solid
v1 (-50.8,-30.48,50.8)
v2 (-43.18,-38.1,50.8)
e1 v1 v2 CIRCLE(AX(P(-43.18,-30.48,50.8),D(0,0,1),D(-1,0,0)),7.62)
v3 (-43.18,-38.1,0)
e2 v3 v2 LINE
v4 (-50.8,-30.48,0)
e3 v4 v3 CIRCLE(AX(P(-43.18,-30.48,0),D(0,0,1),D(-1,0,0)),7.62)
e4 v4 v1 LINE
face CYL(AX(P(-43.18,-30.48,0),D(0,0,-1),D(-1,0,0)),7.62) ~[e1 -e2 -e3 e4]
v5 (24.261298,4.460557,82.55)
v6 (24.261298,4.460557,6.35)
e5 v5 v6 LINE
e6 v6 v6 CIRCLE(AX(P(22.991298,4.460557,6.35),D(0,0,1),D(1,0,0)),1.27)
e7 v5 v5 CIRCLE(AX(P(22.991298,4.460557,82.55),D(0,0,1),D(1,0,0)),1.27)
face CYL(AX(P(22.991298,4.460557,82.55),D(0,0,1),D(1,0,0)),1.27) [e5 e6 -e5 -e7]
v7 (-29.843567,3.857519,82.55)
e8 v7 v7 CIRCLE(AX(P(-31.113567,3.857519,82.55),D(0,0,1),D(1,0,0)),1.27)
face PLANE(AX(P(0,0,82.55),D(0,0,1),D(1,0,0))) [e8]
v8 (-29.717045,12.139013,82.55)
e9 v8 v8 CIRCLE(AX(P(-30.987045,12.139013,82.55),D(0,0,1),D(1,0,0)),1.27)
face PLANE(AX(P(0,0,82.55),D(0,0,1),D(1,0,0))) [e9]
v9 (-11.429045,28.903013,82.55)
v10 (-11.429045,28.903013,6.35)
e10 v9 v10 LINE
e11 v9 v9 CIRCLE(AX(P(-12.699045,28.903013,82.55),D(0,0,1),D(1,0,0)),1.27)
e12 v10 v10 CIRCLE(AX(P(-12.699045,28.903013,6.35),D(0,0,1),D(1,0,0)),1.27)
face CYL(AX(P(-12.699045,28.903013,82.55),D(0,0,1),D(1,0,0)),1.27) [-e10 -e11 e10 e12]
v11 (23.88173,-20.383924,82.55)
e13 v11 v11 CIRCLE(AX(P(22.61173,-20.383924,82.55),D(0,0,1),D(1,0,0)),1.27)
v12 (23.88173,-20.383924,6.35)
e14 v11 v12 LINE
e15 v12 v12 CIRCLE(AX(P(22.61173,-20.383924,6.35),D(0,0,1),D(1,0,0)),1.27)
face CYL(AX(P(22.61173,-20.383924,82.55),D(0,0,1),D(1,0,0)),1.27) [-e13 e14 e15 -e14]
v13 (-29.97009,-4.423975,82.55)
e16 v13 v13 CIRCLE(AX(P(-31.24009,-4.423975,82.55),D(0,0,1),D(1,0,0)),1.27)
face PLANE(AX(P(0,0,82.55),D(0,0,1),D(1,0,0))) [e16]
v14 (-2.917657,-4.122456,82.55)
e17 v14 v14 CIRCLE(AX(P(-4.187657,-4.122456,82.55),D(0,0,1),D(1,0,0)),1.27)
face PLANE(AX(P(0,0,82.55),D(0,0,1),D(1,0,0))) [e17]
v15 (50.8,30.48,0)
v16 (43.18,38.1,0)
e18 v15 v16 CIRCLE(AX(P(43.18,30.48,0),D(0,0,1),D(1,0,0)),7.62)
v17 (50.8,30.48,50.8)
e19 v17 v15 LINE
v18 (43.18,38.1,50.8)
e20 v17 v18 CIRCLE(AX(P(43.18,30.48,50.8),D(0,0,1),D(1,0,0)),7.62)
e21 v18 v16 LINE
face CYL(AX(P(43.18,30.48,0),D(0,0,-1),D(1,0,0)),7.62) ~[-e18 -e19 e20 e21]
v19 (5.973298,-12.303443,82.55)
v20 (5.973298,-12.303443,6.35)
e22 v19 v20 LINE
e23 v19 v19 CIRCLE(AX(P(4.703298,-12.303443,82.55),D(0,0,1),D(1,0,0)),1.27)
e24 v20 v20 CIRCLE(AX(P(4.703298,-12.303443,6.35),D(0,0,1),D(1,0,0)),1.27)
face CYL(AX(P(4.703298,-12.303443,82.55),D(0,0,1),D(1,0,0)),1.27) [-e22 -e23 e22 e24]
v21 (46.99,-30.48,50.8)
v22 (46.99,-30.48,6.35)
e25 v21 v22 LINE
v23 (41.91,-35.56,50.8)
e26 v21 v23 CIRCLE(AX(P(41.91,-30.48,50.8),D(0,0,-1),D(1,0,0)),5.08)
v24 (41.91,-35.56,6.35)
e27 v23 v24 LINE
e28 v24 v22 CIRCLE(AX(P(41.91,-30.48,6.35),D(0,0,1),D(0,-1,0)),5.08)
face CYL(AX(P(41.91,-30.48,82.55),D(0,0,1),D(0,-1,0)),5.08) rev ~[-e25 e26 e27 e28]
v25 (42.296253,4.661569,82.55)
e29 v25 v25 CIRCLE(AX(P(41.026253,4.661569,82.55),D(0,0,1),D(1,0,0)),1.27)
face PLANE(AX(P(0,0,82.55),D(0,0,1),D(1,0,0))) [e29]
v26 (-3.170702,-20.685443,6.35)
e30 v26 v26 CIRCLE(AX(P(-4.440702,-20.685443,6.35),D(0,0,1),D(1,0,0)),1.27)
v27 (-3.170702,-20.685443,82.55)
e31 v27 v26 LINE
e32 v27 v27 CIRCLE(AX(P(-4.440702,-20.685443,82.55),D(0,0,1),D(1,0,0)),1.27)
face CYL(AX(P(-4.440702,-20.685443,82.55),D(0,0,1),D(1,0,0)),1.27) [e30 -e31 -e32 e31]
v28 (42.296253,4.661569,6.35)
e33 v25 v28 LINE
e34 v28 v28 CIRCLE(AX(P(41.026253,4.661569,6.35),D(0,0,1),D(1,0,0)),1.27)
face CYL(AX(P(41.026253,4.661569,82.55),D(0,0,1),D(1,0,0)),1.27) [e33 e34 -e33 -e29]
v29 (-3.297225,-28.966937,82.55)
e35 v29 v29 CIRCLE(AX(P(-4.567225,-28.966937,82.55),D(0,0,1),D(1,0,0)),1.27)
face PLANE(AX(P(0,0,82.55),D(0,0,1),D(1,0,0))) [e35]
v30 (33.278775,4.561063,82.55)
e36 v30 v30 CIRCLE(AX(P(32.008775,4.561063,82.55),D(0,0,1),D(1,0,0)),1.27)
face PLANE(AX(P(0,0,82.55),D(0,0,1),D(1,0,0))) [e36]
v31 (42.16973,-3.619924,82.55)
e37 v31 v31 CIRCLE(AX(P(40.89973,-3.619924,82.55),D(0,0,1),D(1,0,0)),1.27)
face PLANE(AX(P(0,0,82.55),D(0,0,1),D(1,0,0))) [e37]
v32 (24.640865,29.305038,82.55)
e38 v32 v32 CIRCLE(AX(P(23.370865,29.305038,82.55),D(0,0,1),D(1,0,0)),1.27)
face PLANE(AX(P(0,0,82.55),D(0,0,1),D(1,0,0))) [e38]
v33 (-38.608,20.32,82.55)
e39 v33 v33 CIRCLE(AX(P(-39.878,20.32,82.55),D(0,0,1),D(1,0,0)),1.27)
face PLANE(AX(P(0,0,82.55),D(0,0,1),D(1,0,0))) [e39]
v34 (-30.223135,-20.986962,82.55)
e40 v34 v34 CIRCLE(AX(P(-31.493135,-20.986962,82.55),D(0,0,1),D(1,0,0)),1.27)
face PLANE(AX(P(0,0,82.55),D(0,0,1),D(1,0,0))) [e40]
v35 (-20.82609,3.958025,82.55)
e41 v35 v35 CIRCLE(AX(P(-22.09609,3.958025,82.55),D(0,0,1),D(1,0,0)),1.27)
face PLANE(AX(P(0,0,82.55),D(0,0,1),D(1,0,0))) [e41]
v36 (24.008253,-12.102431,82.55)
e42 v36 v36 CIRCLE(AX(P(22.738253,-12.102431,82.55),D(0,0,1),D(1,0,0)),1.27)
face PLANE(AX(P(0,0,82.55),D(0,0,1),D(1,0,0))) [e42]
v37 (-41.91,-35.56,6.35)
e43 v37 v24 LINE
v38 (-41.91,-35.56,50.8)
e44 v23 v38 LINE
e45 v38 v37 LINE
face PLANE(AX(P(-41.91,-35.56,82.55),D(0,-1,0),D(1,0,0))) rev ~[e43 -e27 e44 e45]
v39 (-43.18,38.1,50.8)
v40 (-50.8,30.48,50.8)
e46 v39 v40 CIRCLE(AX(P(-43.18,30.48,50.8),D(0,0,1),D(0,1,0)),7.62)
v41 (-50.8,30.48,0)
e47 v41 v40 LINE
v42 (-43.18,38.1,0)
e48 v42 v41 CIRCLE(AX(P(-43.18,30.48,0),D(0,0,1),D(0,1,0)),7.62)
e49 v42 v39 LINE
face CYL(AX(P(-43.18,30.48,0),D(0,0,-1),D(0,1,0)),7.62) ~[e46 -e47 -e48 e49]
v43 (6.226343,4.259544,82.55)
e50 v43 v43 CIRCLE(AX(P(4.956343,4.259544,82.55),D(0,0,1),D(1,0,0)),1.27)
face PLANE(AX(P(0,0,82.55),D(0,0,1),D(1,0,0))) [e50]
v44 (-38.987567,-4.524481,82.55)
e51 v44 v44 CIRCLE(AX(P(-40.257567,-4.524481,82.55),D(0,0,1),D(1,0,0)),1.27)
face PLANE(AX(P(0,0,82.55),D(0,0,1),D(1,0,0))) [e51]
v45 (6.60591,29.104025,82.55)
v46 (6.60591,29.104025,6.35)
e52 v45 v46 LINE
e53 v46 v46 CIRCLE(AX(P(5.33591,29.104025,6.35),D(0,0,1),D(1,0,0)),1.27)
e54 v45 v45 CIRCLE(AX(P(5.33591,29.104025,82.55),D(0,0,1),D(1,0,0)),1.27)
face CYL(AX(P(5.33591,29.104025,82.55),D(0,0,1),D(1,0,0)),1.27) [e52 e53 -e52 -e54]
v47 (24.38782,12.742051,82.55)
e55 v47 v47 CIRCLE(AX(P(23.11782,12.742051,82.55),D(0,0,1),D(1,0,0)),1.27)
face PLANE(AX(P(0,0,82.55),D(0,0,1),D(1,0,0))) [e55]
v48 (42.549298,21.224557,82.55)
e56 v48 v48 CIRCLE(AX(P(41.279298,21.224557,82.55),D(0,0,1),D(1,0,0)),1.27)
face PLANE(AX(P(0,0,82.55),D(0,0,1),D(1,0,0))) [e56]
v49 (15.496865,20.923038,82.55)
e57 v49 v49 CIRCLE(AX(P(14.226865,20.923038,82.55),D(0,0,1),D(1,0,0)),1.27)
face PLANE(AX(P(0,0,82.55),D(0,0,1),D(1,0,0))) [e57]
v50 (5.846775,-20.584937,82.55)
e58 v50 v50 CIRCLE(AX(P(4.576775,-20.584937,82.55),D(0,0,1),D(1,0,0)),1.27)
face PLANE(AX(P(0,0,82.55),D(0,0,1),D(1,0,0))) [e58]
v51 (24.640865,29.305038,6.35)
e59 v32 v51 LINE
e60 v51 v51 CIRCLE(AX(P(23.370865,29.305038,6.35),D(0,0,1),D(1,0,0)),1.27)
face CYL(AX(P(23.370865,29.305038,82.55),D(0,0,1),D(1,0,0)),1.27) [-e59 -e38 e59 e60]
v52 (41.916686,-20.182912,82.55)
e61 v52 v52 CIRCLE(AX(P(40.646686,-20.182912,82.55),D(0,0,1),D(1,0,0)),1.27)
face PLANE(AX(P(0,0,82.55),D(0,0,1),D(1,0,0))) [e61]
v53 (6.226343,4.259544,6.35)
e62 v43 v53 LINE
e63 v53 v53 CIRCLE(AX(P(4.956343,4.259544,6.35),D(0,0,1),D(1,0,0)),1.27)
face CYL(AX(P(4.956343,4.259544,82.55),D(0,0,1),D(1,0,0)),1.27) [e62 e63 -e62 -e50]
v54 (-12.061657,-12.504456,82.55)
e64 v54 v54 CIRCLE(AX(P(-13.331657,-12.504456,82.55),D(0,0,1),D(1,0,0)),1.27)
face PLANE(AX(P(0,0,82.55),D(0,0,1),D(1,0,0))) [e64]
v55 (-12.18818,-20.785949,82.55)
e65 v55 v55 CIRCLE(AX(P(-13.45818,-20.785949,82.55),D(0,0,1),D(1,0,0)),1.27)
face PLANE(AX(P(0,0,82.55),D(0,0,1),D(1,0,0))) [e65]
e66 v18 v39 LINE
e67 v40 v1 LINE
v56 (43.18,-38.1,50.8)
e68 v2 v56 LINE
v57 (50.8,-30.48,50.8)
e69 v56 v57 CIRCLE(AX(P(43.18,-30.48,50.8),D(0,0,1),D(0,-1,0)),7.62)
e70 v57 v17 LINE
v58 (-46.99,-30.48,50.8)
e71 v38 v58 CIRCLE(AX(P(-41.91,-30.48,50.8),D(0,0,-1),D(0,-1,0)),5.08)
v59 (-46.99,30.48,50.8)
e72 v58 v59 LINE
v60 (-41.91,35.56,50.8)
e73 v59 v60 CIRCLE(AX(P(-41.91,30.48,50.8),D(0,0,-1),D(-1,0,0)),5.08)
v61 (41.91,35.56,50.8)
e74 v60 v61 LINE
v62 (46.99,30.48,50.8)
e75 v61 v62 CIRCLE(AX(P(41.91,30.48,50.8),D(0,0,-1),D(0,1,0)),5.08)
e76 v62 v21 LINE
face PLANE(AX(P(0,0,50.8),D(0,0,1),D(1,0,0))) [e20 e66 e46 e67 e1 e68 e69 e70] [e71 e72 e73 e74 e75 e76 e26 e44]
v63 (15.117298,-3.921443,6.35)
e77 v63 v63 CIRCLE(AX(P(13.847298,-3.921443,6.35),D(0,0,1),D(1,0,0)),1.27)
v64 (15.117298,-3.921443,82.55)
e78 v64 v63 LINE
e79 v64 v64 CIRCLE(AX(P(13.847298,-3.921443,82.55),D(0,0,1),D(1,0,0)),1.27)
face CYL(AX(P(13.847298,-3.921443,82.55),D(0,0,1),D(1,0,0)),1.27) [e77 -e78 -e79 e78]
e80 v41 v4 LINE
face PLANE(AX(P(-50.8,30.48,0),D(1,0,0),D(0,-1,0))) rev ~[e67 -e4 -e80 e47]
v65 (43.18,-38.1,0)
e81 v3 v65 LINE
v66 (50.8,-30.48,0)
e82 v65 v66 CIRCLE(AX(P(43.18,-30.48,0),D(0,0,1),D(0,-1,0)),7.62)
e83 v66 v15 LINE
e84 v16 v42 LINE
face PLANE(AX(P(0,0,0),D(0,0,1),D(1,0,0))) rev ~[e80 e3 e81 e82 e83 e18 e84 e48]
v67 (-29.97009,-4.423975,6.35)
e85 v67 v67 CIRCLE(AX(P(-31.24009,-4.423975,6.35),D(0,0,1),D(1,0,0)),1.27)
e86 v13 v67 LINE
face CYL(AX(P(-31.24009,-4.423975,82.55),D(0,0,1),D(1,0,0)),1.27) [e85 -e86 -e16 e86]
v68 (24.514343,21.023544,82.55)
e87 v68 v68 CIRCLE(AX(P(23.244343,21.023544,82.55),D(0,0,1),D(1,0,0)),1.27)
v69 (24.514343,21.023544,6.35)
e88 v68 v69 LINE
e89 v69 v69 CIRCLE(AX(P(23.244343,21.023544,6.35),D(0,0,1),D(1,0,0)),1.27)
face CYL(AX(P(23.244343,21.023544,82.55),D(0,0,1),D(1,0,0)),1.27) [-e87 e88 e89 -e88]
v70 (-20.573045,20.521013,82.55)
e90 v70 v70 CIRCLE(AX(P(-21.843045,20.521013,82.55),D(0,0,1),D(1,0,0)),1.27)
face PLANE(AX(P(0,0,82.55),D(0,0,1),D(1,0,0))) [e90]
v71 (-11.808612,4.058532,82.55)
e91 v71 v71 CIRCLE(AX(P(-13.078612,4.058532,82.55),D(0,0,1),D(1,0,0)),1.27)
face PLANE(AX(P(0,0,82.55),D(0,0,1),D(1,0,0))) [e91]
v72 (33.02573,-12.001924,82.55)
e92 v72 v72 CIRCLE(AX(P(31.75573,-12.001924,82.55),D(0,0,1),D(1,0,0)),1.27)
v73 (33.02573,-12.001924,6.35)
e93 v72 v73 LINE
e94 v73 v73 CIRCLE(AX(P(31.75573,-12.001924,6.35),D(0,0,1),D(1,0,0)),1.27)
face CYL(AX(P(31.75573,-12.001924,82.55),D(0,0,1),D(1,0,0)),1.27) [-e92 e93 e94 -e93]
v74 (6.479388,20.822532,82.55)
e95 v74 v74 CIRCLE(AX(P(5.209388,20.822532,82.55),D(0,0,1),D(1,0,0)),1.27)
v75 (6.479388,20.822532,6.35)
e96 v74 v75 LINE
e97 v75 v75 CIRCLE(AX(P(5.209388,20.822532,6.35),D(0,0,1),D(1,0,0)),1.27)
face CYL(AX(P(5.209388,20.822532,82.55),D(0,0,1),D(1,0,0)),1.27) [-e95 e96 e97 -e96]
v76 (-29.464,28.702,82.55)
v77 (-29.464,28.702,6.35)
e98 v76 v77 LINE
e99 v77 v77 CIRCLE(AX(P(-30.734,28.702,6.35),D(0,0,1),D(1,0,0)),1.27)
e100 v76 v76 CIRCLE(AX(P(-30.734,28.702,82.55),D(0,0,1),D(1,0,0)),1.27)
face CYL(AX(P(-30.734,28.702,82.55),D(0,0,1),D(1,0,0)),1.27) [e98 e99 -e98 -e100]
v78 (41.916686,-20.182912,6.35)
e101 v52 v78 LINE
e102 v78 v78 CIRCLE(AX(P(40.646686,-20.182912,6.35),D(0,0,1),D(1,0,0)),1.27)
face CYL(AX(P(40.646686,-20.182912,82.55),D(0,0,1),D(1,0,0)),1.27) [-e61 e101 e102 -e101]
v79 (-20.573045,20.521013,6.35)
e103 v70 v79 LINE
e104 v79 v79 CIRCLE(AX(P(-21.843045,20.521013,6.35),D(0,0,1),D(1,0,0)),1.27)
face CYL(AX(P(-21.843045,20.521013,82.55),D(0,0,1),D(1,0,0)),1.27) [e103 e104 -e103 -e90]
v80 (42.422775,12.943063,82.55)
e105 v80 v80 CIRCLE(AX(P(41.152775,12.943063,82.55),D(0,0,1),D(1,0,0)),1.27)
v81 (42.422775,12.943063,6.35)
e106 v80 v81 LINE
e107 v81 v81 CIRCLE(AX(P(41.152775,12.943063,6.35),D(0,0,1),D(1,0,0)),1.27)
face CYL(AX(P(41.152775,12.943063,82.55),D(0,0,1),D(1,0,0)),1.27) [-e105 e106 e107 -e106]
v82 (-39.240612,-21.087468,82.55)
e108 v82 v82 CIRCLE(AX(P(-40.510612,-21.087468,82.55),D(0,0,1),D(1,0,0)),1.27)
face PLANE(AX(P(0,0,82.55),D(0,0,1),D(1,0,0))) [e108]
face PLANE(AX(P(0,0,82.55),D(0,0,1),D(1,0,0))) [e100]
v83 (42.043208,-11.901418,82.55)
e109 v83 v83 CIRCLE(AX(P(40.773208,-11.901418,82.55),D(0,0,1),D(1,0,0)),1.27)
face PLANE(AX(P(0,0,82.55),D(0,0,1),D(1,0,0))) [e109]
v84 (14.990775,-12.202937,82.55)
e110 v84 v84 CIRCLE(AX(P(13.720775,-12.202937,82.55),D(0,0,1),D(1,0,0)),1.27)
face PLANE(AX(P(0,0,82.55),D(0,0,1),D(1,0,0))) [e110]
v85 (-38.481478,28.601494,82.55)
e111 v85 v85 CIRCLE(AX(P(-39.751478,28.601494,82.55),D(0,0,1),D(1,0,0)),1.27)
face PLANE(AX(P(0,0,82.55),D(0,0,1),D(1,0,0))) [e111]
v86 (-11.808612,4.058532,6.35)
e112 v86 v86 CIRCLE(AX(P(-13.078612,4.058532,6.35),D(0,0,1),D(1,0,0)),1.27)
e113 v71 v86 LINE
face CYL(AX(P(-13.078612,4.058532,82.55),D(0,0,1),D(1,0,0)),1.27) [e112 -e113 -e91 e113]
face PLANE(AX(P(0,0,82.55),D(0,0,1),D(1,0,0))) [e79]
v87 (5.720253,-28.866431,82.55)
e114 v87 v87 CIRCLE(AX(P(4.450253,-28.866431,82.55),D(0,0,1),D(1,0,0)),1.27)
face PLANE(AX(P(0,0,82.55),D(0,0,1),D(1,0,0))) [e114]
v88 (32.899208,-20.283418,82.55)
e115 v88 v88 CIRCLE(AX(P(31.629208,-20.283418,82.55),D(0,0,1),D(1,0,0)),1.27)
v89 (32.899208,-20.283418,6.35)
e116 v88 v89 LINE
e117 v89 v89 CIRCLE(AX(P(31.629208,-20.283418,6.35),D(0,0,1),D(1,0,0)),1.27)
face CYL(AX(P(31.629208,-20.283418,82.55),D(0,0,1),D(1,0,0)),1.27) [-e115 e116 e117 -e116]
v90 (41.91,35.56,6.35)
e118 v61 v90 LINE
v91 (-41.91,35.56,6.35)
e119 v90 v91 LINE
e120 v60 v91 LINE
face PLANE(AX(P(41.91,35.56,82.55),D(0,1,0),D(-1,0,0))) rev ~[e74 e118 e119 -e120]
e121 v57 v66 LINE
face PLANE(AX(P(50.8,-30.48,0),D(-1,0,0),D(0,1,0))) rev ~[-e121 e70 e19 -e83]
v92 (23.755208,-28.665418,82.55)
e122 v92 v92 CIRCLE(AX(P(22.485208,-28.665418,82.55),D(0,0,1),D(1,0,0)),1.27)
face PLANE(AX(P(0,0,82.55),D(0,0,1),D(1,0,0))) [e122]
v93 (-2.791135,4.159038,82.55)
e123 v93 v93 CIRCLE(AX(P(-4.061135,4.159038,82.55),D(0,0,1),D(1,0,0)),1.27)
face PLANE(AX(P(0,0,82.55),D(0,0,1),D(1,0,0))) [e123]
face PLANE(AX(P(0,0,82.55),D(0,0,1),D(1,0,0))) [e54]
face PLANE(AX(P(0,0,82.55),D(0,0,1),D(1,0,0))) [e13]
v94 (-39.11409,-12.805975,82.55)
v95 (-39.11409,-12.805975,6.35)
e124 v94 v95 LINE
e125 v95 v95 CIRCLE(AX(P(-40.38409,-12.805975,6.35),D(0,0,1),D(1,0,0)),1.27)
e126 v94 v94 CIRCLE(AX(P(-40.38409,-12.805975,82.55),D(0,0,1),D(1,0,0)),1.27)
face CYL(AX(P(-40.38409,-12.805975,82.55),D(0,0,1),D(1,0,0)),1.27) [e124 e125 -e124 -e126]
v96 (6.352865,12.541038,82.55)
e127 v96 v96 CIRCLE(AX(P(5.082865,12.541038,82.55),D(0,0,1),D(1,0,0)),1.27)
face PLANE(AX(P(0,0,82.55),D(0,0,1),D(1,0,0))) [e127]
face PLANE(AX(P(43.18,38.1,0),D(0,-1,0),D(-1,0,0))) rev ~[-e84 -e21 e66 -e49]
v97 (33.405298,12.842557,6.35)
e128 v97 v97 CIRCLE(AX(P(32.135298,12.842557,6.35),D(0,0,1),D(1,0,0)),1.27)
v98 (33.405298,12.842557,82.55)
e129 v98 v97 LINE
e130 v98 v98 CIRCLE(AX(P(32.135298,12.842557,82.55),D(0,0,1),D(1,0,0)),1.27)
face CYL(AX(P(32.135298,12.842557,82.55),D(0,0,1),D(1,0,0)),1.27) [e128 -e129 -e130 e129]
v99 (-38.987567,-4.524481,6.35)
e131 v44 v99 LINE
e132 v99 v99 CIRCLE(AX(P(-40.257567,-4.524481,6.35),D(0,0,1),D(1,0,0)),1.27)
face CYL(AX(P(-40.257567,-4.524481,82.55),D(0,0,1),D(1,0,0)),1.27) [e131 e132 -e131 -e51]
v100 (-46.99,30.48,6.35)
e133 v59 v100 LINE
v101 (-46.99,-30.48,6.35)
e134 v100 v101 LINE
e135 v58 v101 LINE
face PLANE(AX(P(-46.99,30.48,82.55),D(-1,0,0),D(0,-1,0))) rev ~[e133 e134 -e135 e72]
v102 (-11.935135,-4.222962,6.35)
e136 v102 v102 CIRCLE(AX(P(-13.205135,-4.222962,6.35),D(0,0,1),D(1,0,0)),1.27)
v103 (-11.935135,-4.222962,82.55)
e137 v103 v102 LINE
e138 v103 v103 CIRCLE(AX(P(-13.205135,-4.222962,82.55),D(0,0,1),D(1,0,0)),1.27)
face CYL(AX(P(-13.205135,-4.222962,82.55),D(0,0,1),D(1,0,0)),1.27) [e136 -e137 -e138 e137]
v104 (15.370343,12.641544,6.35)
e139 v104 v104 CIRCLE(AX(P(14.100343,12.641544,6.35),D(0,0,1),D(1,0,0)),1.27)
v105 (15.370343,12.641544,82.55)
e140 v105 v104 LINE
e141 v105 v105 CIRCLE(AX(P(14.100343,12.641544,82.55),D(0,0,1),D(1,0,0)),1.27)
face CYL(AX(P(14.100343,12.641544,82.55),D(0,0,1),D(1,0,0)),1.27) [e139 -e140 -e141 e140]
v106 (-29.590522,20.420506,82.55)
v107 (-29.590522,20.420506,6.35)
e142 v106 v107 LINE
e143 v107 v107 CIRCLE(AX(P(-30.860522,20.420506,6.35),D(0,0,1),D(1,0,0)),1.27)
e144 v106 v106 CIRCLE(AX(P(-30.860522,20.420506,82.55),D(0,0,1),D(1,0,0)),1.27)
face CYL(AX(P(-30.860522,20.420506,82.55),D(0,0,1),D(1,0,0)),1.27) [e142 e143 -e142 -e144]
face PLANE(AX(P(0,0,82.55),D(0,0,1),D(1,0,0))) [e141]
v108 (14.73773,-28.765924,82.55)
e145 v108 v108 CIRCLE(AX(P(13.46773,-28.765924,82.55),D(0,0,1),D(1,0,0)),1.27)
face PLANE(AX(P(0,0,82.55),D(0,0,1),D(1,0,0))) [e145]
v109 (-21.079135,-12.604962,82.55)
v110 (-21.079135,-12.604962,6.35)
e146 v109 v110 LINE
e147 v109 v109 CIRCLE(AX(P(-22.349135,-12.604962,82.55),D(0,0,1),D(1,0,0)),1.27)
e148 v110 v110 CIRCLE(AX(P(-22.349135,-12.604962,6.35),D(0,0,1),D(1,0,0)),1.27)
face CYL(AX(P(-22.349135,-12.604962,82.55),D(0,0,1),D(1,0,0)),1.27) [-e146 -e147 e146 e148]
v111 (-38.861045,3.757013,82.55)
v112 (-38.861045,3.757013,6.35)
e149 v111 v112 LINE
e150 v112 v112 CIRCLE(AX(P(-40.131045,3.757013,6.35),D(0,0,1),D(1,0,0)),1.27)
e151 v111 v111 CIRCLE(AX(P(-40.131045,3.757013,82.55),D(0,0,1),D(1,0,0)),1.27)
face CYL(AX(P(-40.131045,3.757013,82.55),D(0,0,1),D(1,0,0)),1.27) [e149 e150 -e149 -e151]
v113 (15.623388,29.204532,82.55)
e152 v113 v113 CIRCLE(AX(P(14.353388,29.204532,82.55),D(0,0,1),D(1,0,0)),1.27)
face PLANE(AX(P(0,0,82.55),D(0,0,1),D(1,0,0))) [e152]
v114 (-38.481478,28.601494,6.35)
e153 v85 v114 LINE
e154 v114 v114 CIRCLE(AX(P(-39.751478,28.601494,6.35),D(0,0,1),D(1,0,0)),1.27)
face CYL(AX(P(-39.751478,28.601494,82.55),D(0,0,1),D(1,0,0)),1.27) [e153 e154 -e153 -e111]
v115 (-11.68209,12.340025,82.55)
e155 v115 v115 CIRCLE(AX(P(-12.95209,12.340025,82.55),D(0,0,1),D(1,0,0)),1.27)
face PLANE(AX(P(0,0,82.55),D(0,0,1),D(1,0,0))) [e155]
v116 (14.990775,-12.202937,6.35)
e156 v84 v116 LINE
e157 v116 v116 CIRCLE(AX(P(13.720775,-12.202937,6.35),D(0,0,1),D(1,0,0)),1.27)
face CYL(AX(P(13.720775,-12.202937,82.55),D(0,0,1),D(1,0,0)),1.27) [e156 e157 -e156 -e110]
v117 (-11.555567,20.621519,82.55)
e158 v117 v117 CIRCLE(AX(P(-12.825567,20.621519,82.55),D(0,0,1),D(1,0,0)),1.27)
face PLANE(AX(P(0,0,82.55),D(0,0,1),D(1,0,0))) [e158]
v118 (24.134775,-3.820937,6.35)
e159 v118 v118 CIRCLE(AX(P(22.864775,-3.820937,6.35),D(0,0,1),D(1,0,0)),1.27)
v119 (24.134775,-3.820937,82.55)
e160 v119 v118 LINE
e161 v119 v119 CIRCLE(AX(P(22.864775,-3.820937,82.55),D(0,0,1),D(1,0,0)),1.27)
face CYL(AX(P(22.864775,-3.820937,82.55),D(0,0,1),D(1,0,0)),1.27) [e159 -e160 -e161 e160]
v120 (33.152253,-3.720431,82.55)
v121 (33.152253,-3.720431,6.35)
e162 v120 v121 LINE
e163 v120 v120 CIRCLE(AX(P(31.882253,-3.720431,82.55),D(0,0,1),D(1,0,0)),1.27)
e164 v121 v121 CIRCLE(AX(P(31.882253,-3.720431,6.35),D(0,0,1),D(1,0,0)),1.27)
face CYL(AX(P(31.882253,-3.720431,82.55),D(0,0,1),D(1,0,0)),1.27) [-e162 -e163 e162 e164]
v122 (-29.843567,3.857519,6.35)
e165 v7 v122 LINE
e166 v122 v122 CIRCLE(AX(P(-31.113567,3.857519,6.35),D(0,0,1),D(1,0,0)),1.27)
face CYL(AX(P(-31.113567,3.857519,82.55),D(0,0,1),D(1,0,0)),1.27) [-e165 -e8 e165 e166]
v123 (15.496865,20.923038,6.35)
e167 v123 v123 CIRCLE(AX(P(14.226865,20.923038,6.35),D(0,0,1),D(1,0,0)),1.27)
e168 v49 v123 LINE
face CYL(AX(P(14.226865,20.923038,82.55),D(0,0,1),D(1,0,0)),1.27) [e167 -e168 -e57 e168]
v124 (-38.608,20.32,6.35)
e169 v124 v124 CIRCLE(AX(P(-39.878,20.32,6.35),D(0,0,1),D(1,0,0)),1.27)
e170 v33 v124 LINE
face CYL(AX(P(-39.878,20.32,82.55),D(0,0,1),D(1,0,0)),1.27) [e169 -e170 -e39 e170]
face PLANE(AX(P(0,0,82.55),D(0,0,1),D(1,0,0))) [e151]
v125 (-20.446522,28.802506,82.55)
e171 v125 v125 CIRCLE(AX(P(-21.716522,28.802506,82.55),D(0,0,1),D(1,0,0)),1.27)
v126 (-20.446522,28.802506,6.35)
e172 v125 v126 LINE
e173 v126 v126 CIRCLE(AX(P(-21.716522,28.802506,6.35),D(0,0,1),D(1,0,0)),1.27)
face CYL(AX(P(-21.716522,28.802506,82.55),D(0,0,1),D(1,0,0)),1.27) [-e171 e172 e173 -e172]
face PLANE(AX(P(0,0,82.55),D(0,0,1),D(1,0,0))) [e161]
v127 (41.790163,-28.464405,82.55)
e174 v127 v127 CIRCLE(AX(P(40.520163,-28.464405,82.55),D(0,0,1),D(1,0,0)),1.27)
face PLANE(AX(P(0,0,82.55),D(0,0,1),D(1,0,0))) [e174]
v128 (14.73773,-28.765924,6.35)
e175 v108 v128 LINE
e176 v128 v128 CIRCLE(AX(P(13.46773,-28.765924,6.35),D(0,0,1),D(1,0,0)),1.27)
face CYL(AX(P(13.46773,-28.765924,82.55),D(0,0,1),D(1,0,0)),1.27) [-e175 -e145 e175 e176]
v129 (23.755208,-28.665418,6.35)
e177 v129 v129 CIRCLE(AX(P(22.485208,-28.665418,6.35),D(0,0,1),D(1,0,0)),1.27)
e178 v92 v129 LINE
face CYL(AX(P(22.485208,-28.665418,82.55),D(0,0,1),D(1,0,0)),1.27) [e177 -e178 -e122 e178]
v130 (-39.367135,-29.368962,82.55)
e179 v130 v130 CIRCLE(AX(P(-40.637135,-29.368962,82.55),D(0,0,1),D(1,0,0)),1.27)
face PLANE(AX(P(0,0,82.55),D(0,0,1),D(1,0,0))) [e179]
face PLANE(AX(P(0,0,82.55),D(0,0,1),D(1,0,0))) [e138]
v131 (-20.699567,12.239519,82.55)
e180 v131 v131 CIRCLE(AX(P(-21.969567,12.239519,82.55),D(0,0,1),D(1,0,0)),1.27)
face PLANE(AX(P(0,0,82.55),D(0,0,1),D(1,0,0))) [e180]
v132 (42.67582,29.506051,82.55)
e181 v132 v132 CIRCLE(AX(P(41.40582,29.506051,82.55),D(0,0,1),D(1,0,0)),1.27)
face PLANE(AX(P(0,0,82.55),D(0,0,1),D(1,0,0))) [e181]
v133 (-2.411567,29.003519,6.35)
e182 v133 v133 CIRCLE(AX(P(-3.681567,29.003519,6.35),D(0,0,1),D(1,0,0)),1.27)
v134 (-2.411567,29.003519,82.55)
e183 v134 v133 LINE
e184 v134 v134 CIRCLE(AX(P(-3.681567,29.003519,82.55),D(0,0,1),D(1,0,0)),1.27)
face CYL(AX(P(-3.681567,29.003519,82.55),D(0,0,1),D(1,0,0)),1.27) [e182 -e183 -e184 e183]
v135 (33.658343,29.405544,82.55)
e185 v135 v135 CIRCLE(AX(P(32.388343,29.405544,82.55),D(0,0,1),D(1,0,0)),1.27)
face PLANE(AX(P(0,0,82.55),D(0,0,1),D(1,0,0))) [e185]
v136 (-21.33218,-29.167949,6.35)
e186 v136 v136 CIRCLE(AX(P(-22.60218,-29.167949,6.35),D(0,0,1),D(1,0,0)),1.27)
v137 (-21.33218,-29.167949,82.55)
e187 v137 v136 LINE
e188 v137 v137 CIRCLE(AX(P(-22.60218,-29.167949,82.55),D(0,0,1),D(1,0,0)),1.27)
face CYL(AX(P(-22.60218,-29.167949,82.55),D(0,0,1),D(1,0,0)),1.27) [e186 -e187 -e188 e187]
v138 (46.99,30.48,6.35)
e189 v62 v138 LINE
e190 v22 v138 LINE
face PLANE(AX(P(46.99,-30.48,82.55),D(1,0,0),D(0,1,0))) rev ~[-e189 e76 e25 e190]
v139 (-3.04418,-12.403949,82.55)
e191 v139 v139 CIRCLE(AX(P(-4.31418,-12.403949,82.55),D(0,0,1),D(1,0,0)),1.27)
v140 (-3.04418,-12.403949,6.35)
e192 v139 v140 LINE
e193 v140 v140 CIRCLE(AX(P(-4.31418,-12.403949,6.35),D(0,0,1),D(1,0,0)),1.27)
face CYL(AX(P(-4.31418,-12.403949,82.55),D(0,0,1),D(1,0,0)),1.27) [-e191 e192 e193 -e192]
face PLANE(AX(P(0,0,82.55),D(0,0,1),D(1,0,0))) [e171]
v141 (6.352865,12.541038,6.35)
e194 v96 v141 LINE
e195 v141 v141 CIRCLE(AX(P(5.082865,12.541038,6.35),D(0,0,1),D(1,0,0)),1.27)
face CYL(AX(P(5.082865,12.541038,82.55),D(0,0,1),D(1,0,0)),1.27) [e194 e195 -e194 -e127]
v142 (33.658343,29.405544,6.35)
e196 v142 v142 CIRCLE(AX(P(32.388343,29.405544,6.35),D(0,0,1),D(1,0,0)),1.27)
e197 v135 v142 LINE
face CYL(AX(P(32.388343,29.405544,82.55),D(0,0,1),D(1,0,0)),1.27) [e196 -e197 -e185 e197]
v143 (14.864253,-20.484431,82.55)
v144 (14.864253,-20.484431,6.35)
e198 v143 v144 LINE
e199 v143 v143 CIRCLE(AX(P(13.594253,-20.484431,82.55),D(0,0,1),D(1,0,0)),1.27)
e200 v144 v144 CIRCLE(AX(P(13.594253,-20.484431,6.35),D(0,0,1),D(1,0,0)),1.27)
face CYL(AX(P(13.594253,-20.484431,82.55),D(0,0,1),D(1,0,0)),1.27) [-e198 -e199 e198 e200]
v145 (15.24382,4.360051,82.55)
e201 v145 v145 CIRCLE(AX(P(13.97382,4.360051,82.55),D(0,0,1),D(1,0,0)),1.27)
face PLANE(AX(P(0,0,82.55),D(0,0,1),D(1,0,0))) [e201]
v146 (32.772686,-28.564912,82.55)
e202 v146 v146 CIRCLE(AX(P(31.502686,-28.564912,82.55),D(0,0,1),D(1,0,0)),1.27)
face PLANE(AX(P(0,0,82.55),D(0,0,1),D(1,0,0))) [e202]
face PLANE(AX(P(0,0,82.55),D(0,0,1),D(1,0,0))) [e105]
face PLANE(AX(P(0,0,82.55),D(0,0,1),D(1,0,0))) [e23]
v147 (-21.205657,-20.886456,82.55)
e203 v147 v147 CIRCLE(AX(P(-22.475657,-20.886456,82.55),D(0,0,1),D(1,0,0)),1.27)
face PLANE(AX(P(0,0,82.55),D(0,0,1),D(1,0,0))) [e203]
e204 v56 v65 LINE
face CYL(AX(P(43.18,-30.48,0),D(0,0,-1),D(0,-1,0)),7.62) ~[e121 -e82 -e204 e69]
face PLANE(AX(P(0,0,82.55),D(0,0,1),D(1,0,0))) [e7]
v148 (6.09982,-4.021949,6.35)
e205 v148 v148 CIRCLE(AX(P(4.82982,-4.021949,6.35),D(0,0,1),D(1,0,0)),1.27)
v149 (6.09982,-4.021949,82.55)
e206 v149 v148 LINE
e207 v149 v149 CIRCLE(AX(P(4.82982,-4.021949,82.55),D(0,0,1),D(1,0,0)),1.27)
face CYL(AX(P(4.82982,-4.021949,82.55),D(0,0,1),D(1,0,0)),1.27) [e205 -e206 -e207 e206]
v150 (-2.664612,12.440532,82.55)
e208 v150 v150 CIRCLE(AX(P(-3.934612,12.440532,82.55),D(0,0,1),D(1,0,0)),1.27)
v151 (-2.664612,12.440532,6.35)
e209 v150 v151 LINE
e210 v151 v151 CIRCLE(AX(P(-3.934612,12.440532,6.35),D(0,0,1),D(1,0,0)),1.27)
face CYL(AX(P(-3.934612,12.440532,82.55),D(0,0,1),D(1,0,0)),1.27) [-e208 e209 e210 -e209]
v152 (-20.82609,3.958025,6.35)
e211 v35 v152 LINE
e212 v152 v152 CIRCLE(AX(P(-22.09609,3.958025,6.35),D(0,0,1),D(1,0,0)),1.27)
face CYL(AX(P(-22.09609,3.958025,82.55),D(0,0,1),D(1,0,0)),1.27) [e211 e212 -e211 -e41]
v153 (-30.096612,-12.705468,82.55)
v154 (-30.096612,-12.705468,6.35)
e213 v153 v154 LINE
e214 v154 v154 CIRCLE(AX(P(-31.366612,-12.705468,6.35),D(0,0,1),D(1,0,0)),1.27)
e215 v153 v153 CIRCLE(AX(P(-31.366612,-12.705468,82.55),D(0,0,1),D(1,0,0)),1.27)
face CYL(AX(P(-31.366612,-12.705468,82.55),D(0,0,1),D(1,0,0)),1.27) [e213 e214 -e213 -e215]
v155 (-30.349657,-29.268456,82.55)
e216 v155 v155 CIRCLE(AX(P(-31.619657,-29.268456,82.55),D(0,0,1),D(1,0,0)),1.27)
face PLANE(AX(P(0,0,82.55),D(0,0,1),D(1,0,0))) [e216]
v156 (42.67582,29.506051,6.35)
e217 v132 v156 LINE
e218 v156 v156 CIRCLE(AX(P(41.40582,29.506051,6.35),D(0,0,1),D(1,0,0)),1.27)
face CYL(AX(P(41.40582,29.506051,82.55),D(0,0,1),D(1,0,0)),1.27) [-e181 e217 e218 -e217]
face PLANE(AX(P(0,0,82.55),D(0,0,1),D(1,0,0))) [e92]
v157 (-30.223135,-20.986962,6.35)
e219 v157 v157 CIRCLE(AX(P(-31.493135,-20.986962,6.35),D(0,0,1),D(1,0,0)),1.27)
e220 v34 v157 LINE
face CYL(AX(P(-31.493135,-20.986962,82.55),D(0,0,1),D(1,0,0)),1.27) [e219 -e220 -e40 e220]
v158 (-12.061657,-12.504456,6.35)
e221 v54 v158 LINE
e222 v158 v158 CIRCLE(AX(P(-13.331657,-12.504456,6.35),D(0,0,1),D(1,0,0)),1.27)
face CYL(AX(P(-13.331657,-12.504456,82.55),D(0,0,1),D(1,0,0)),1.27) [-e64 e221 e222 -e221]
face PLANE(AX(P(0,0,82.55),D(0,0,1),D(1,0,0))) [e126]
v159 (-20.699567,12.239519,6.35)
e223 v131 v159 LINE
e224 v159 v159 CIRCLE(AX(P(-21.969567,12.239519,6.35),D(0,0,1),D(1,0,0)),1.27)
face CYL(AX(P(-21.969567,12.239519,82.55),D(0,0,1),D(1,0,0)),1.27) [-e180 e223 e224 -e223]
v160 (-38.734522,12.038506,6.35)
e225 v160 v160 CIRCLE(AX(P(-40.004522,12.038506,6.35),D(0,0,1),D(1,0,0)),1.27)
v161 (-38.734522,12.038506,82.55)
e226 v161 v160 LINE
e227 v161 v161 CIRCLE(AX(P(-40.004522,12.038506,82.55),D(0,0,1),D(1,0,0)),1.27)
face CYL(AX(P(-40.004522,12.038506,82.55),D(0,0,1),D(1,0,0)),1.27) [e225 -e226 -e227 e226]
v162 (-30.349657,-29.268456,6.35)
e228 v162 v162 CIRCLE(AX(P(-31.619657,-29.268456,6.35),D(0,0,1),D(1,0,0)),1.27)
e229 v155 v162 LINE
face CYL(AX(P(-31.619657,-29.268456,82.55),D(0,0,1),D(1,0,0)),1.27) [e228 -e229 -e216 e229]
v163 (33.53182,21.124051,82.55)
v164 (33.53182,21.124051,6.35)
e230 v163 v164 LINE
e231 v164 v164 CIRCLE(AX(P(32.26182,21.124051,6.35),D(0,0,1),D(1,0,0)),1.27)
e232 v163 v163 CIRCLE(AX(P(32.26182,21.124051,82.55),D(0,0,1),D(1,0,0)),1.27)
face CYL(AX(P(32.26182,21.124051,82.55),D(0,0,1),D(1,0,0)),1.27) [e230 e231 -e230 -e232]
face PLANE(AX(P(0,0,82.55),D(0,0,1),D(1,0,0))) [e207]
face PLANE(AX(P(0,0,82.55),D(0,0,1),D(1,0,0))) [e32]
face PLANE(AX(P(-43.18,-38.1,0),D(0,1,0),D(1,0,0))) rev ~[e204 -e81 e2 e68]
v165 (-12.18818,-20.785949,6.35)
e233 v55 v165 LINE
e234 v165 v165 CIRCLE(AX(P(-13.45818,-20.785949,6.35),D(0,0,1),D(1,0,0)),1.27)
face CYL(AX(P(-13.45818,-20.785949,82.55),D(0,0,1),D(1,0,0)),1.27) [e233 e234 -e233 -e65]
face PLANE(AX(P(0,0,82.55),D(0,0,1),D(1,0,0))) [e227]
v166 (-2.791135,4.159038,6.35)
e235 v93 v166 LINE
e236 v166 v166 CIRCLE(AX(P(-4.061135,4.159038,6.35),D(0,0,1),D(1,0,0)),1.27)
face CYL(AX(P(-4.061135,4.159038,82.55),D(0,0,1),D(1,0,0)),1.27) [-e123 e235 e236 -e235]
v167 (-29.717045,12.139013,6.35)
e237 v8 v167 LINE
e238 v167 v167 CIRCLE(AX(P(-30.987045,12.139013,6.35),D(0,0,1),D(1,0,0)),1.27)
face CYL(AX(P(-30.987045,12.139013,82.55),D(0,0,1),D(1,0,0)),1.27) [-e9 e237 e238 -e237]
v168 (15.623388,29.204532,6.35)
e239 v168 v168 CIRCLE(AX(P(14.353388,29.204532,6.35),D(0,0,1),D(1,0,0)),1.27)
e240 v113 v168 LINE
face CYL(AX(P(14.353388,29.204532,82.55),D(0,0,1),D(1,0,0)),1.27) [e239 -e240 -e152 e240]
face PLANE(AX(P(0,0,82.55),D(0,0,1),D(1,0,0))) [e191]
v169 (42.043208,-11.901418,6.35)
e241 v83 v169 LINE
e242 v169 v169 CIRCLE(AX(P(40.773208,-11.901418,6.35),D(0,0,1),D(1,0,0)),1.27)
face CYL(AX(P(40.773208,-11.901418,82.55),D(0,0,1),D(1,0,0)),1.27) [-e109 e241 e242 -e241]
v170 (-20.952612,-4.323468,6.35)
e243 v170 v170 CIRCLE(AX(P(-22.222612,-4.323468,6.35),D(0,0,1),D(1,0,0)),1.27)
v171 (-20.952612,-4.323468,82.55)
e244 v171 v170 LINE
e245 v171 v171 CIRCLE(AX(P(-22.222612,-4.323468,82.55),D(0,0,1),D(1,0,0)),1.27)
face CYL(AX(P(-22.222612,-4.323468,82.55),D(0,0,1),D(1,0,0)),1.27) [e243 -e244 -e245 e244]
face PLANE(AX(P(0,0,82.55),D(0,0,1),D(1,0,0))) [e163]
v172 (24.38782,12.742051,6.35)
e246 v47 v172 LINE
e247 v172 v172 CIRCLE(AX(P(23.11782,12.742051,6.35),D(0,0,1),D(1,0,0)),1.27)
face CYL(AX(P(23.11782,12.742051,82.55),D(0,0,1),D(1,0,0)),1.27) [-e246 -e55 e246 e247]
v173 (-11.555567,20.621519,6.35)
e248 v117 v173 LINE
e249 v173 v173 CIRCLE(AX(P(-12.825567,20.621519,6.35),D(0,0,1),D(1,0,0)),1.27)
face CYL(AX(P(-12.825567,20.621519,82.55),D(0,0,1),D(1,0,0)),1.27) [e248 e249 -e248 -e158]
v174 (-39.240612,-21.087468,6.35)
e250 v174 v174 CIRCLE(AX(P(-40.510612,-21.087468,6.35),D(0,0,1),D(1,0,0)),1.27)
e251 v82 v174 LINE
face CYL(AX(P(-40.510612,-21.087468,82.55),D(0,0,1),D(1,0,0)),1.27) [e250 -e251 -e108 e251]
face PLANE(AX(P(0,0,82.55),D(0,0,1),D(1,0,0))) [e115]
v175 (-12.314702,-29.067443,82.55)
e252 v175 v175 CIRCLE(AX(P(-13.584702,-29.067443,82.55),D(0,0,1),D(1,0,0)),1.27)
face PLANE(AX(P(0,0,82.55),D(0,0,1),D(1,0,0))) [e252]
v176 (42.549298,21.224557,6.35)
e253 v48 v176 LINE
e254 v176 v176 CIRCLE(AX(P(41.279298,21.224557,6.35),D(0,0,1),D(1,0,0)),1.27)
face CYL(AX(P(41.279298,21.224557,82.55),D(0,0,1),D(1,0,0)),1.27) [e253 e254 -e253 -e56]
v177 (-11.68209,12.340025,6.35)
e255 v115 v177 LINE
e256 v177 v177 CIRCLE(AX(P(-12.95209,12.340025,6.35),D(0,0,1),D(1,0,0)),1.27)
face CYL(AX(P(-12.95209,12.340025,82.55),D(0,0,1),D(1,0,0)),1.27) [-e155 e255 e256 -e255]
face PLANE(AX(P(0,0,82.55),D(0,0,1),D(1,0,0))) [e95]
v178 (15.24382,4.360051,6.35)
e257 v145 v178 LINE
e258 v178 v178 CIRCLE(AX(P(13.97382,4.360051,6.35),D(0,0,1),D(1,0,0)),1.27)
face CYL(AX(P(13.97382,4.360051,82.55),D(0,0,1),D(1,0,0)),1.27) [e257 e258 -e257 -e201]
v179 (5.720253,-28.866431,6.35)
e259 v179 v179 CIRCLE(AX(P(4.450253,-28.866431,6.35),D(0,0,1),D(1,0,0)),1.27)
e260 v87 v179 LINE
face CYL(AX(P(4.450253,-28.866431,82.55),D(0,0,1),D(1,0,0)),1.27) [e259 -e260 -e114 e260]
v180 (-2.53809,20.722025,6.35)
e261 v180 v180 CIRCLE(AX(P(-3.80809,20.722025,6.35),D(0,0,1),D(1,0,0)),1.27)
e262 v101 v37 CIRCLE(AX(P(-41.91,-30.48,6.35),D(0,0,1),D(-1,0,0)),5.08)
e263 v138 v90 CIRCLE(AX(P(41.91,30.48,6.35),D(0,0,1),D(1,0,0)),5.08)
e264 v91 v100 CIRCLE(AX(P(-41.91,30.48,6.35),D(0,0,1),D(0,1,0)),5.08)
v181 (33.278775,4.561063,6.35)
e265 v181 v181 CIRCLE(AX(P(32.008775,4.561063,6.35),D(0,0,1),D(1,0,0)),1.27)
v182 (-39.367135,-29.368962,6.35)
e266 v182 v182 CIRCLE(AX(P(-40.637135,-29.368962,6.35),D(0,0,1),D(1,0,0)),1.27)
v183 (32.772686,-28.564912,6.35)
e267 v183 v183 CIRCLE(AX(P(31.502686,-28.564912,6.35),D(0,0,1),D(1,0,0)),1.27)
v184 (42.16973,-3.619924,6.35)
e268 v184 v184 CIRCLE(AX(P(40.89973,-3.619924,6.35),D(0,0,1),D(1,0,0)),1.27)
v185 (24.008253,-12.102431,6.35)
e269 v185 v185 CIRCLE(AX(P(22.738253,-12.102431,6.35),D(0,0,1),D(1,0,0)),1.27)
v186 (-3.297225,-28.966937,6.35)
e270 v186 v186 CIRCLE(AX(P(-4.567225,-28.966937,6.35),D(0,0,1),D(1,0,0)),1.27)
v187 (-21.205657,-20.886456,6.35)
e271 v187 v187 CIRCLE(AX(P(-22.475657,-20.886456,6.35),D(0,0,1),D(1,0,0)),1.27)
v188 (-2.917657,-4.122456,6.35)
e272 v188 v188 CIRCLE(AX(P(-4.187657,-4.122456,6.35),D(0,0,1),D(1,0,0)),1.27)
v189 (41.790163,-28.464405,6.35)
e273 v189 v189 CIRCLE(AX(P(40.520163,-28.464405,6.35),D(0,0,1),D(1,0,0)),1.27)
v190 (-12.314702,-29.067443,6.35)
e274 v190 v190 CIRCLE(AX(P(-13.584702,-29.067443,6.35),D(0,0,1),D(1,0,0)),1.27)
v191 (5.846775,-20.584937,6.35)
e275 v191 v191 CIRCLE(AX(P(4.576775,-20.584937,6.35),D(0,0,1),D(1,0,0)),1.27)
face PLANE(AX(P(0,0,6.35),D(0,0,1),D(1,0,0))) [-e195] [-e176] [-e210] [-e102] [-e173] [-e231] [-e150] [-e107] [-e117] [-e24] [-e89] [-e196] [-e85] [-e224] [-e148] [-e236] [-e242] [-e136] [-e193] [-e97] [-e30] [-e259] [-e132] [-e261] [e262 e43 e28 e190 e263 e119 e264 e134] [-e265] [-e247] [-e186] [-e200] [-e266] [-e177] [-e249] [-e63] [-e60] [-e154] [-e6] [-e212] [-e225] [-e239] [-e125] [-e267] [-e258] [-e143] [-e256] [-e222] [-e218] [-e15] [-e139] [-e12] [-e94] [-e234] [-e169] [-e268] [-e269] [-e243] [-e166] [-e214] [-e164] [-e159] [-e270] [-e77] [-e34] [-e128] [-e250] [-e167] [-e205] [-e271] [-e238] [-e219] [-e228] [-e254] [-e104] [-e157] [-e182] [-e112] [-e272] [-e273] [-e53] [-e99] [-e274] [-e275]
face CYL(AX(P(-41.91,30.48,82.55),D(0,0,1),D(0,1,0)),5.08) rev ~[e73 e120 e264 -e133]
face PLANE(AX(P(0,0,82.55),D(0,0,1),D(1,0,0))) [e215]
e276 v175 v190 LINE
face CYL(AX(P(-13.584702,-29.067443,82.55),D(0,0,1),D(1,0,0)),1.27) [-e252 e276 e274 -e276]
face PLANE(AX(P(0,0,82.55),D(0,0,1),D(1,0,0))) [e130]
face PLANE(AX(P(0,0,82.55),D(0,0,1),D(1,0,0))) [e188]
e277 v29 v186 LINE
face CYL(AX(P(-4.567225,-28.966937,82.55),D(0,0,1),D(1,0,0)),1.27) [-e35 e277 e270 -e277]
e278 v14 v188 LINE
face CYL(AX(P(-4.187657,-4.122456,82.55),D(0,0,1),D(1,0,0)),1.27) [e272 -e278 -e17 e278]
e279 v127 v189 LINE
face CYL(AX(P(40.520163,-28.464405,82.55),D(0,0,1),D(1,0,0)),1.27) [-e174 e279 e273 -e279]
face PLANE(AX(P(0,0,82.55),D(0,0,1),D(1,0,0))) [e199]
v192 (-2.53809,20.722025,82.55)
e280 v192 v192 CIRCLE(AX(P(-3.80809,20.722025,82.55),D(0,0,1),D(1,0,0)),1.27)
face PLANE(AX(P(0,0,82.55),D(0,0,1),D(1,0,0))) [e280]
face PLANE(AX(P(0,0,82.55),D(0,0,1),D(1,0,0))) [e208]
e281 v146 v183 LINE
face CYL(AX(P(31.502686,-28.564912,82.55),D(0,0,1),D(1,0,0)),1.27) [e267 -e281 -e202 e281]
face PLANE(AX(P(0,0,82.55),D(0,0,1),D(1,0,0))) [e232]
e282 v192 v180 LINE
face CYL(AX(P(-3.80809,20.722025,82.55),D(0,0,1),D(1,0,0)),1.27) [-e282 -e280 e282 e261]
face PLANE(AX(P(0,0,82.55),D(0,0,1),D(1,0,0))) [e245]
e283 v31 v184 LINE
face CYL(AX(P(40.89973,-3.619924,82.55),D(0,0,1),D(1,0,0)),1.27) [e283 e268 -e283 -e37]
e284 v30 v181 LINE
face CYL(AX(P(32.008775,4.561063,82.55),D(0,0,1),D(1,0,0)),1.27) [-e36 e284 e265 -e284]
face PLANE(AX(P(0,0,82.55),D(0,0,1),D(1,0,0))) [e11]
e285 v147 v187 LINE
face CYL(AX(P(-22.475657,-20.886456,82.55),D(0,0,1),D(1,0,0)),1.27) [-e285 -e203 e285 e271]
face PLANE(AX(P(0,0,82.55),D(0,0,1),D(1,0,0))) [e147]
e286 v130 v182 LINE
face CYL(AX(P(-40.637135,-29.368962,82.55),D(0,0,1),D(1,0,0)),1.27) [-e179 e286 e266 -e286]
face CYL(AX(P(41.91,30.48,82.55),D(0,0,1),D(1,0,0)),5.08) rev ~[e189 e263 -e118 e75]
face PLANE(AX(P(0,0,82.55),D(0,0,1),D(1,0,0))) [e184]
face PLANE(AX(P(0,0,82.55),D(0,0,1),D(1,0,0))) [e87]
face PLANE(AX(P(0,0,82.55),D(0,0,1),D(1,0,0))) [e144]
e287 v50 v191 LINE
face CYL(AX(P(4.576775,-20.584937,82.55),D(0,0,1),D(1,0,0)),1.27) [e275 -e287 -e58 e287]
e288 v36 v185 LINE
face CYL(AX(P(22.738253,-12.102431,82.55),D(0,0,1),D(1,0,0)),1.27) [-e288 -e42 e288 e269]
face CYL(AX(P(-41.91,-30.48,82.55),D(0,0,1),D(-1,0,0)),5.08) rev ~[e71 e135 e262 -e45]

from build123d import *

# Parameters (mm, degrees)
F1_DEPTH = 6.35
F3_DEPTH = 50.8
F5_DEPTH = 76.2
F6_R     = 1.27
F7_DEPTH = 76.2


with BuildPart() as f1:
    # F0 (on Top) → F1 (new body)
    with BuildSketch(Plane.XY):
        with BuildLine():
            Line((43.18, 38.1), (-43.18, 38.1))
            ThreePointArc((-43.18, 38.1), (-48.5681536726, 35.8681536726), (-50.8, 30.48))
            Line((-50.8, 30.48), (-50.8, -30.48))
            ThreePointArc((-50.8, -30.48), (-48.5681536726, -35.8681536726), (-43.18, -38.1))
            Line((-43.18, -38.1), (43.18, -38.1))
            ThreePointArc((43.18, -38.1), (48.5681536726, -35.8681536726), (50.8, -30.48))
            Line((50.8, -30.48), (50.8, 30.48))
            ThreePointArc((50.8, 30.48), (48.5681536726, 35.8681536726), (43.18, 38.1))
        make_face()
    extrude(amount=F1_DEPTH)

    # F2 (on Top) → F3 (join)
    with BuildSketch(Plane.XY):
        with BuildLine():
            Line((-50.8, 30.48), (-50.8, -30.48))
            ThreePointArc((-50.8, -30.48), (-48.5681536726, -35.8681536726), (-43.18, -38.1))
            Line((-43.18, -38.1), (43.18, -38.1))
            ThreePointArc((43.18, -38.1), (48.5681536726, -35.8681536726), (50.8, -30.48))
            Line((50.8, -30.48), (50.8, 30.48))
            ThreePointArc((50.8, 30.48), (48.5681536726, 35.8681536726), (43.18, 38.1))
            Line((43.18, 38.1), (-43.18, 38.1))
            ThreePointArc((-43.18, 38.1), (-48.5681536726, 35.8681536726), (-50.8, 30.48))
        make_face()
        with BuildLine():
            Line((-46.99, -30.48), (-46.99, 30.48))
            ThreePointArc((-46.99, 30.48), (-45.5021024484, 34.0721024484), (-41.91, 35.56))
            Line((-41.91, 35.56), (41.91, 35.56))
            ThreePointArc((41.91, 35.56), (45.5021024484, 34.0721024484), (46.99, 30.48))
            Line((46.99, 30.48), (46.99, -30.48))
            ThreePointArc((46.99, -30.48), (45.5021024484, -34.0721024484), (41.91, -35.56))
            Line((41.91, -35.56), (-41.91, -35.56))
            ThreePointArc((-41.91, -35.56), (-45.5021024484, -34.0721024484), (-46.99, -30.48))
        make_face(mode=Mode.SUBTRACT)
    extrude(amount=F3_DEPTH)

    # F4 (on face) → F5 (join)
    with BuildSketch(Plane.XY.offset(6.35)):
        with BuildLine():
            Line((41.91, 35.56), (-41.91, 35.56))
            ThreePointArc((-41.91, 35.56), (-45.5021024484, 34.0721024484), (-46.99, 30.48))
            Line((-46.99, 30.48), (-46.99, -30.48))
            ThreePointArc((-46.99, -30.48), (-45.5021024484, -34.0721024484), (-41.91, -35.56))
            Line((-41.91, -35.56), (41.91, -35.56))
            ThreePointArc((41.91, -35.56), (45.5021024484, -34.0721024484), (46.99, -30.48))
            Line((46.99, -30.48), (46.99, 30.48))
            ThreePointArc((46.99, 30.48), (45.5021024484, 34.0721024484), (41.91, 35.56))
        make_face()
    extrude(amount=F5_DEPTH)

    # F6 (on face) → F7 (cut)
    with BuildSketch(Plane.XY.offset(82.55)):
        with BuildLine():
            Line((46.99, -30.48), (46.99, 30.48))
            ThreePointArc((46.99, 30.48), (45.5021024484, 34.0721024484), (41.91, 35.56))
            Line((41.91, 35.56), (-41.91, 35.56))
            ThreePointArc((-41.91, 35.56), (-45.5021024484, 34.0721024484), (-46.99, 30.48))
            Line((-46.99, 30.48), (-46.99, -30.48))
            ThreePointArc((-46.99, -30.48), (-45.5021024484, -34.0721024484), (-41.91, -35.56))
            Line((-41.91, -35.56), (41.91, -35.56))
            ThreePointArc((41.91, -35.56), (45.5021024484, -34.0721024484), (46.99, -30.48))
        make_face()
        with Locations((-40.6371347628, -29.3689621186)):
            Circle(F6_R, mode=Mode.SUBTRACT)
        with Locations((-31.6196572232, -29.2684558051)):
            Circle(F6_R, mode=Mode.SUBTRACT)
        with Locations((-40.5106123023, -21.0874684322)):
            Circle(F6_R, mode=Mode.SUBTRACT)
        with Locations((-31.4931347628, -20.9869621186)):
            Circle(F6_R, mode=Mode.SUBTRACT)
        with Locations((-22.6021796837, -29.1679494915)):
            Circle(F6_R, mode=Mode.SUBTRACT)
        with Locations((-13.5847021441, -29.0674431779)):
            Circle(F6_R, mode=Mode.SUBTRACT)
        with Locations((-4.5672246046, -28.9669368644)):
            Circle(F6_R, mode=Mode.SUBTRACT)
        with Locations((-22.4756572232, -20.8864558051)):
            Circle(F6_R, mode=Mode.SUBTRACT)
        with Locations((-13.4581796837, -20.7859494915)):
            Circle(F6_R, mode=Mode.SUBTRACT)
        with Locations((-4.4407021441, -20.6854431779)):
            Circle(F6_R, mode=Mode.SUBTRACT)
        with Locations((-40.3840898418, -12.8059747458)):
            Circle(F6_R, mode=Mode.SUBTRACT)
        with Locations((-31.3666123023, -12.7054684322)):
            Circle(F6_R, mode=Mode.SUBTRACT)
        with Locations((-40.2575673814, -4.5244810593)):
            Circle(F6_R, mode=Mode.SUBTRACT)
        with Locations((-31.2400898418, -4.4239747458)):
            Circle(F6_R, mode=Mode.SUBTRACT)
        with Locations((-22.3491347628, -12.6049621186)):
            Circle(F6_R, mode=Mode.SUBTRACT)
        with Locations((-13.3316572232, -12.5044558051)):
            Circle(F6_R, mode=Mode.SUBTRACT)
        with Locations((-4.3141796837, -12.4039494915)):
            Circle(F6_R, mode=Mode.SUBTRACT)
        with Locations((-22.2226123023, -4.3234684322)):
            Circle(F6_R, mode=Mode.SUBTRACT)
        with Locations((-13.2051347628, -4.2229621186)):
            Circle(F6_R, mode=Mode.SUBTRACT)
        with Locations((-4.1876572232, -4.1224558051)):
            Circle(F6_R, mode=Mode.SUBTRACT)
        with Locations((4.4502529349, -28.8664305508)):
            Circle(F6_R, mode=Mode.SUBTRACT)
        with Locations((13.4677304745, -28.7659242373)):
            Circle(F6_R, mode=Mode.SUBTRACT)
        with Locations((22.485208014, -28.6654179237)):
            Circle(F6_R, mode=Mode.SUBTRACT)
        with Locations((4.5767753954, -20.5849368644)):
            Circle(F6_R, mode=Mode.SUBTRACT)
        with Locations((13.5942529349, -20.4844305508)):
            Circle(F6_R, mode=Mode.SUBTRACT)
        with Locations((22.6117304745, -20.3839242373)):
            Circle(F6_R, mode=Mode.SUBTRACT)
        with Locations((31.5026855536, -28.5649116101)):
            Circle(F6_R, mode=Mode.SUBTRACT)
        with Locations((40.5201630931, -28.4644052966)):
            Circle(F6_R, mode=Mode.SUBTRACT)
        with Locations((31.629208014, -20.2834179237)):
            Circle(F6_R, mode=Mode.SUBTRACT)
        with Locations((40.6466855536, -20.1829116101)):
            Circle(F6_R, mode=Mode.SUBTRACT)
        with Locations((4.7032978559, -12.3034431779)):
            Circle(F6_R, mode=Mode.SUBTRACT)
        with Locations((13.7207753954, -12.2029368644)):
            Circle(F6_R, mode=Mode.SUBTRACT)
        with Locations((22.7382529349, -12.1024305508)):
            Circle(F6_R, mode=Mode.SUBTRACT)
        with Locations((4.8298203163, -4.0219494915)):
            Circle(F6_R, mode=Mode.SUBTRACT)
        with Locations((13.8472978559, -3.9214431779)):
            Circle(F6_R, mode=Mode.SUBTRACT)
        with Locations((22.8647753954, -3.8209368644)):
            Circle(F6_R, mode=Mode.SUBTRACT)
        with Locations((31.7557304745, -12.0019242373)):
            Circle(F6_R, mode=Mode.SUBTRACT)
        with Locations((40.773208014, -11.9014179237)):
            Circle(F6_R, mode=Mode.SUBTRACT)
        with Locations((31.8822529349, -3.7204305508)):
            Circle(F6_R, mode=Mode.SUBTRACT)
        with Locations((40.8997304745, -3.6199242373)):
            Circle(F6_R, mode=Mode.SUBTRACT)
        with Locations((-40.1310449209, 3.7570126271)):
            Circle(F6_R, mode=Mode.SUBTRACT)
        with Locations((-31.1135673814, 3.8575189407)):
            Circle(F6_R, mode=Mode.SUBTRACT)
        with Locations((-40.0045224605, 12.0385063136)):
            Circle(F6_R, mode=Mode.SUBTRACT)
        with Locations((-30.9870449209, 12.1390126271)):
            Circle(F6_R, mode=Mode.SUBTRACT)
        with Locations((-22.0960898418, 3.9580252542)):
            Circle(F6_R, mode=Mode.SUBTRACT)
        with Locations((-13.0786123023, 4.0585315678)):
            Circle(F6_R, mode=Mode.SUBTRACT)
        with Locations((-4.0611347628, 4.1590378814)):
            Circle(F6_R, mode=Mode.SUBTRACT)
        with Locations((-21.9695673814, 12.2395189407)):
            Circle(F6_R, mode=Mode.SUBTRACT)
        with Locations((-12.9520898418, 12.3400252542)):
            Circle(F6_R, mode=Mode.SUBTRACT)
        with Locations((-3.9346123023, 12.4405315678)):
            Circle(F6_R, mode=Mode.SUBTRACT)
        with Locations((-39.878, 20.32)):
            Circle(F6_R, mode=Mode.SUBTRACT)
        with Locations((-30.8605224605, 20.4205063136)):
            Circle(F6_R, mode=Mode.SUBTRACT)
        with Locations((-39.7514775395, 28.6014936864)):
            Circle(F6_R, mode=Mode.SUBTRACT)
        with Locations((-30.734, 28.702)):
            Circle(F6_R, mode=Mode.SUBTRACT)
        with Locations((-21.8430449209, 20.5210126271)):
            Circle(F6_R, mode=Mode.SUBTRACT)
        with Locations((-12.8255673814, 20.6215189407)):
            Circle(F6_R, mode=Mode.SUBTRACT)
        with Locations((-3.8080898418, 20.7220252542)):
            Circle(F6_R, mode=Mode.SUBTRACT)
        with Locations((-21.7165224605, 28.8025063136)):
            Circle(F6_R, mode=Mode.SUBTRACT)
        with Locations((-12.6990449209, 28.9030126271)):
            Circle(F6_R, mode=Mode.SUBTRACT)
        with Locations((-3.6815673814, 29.0035189407)):
            Circle(F6_R, mode=Mode.SUBTRACT)
        with Locations((4.9563427768, 4.2595441949)):
            Circle(F6_R, mode=Mode.SUBTRACT)
        with Locations((13.9738203163, 4.3600505085)):
            Circle(F6_R, mode=Mode.SUBTRACT)
        with Locations((22.9912978559, 4.4605568221)):
            Circle(F6_R, mode=Mode.SUBTRACT)
        with Locations((5.0828652372, 12.5410378814)):
            Circle(F6_R, mode=Mode.SUBTRACT)
        with Locations((14.1003427768, 12.6415441949)):
            Circle(F6_R, mode=Mode.SUBTRACT)
        with Locations((23.1178203163, 12.7420505085)):
            Circle(F6_R, mode=Mode.SUBTRACT)
        with Locations((32.0087753954, 4.5610631356)):
            Circle(F6_R, mode=Mode.SUBTRACT)
        with Locations((41.0262529349, 4.6615694492)):
            Circle(F6_R, mode=Mode.SUBTRACT)
        with Locations((32.1352978559, 12.8425568221)):
            Circle(F6_R, mode=Mode.SUBTRACT)
        with Locations((41.1527753954, 12.9430631356)):
            Circle(F6_R, mode=Mode.SUBTRACT)
        with Locations((5.2093876977, 20.8225315678)):
            Circle(F6_R, mode=Mode.SUBTRACT)
        with Locations((14.2268652372, 20.9230378814)):
            Circle(F6_R, mode=Mode.SUBTRACT)
        with Locations((23.2443427768, 21.0235441949)):
            Circle(F6_R, mode=Mode.SUBTRACT)
        with Locations((5.3359101582, 29.1040252542)):
            Circle(F6_R, mode=Mode.SUBTRACT)
        with Locations((14.3533876977, 29.2045315678)):
            Circle(F6_R, mode=Mode.SUBTRACT)
        with Locations((23.3708652372, 29.3050378814)):
            Circle(F6_R, mode=Mode.SUBTRACT)
        with Locations((32.2618203163, 21.1240505085)):
            Circle(F6_R, mode=Mode.SUBTRACT)
        with Locations((41.2792978559, 21.2245568221)):
            Circle(F6_R, mode=Mode.SUBTRACT)
        with Locations((32.3883427768, 29.4055441949)):
            Circle(F6_R, mode=Mode.SUBTRACT)
        with Locations((41.4058203163, 29.5060505085)):
            Circle(F6_R, mode=Mode.SUBTRACT)
    extrude(amount=-F7_DEPTH, mode=Mode.SUBTRACT)


solid = f1.part
